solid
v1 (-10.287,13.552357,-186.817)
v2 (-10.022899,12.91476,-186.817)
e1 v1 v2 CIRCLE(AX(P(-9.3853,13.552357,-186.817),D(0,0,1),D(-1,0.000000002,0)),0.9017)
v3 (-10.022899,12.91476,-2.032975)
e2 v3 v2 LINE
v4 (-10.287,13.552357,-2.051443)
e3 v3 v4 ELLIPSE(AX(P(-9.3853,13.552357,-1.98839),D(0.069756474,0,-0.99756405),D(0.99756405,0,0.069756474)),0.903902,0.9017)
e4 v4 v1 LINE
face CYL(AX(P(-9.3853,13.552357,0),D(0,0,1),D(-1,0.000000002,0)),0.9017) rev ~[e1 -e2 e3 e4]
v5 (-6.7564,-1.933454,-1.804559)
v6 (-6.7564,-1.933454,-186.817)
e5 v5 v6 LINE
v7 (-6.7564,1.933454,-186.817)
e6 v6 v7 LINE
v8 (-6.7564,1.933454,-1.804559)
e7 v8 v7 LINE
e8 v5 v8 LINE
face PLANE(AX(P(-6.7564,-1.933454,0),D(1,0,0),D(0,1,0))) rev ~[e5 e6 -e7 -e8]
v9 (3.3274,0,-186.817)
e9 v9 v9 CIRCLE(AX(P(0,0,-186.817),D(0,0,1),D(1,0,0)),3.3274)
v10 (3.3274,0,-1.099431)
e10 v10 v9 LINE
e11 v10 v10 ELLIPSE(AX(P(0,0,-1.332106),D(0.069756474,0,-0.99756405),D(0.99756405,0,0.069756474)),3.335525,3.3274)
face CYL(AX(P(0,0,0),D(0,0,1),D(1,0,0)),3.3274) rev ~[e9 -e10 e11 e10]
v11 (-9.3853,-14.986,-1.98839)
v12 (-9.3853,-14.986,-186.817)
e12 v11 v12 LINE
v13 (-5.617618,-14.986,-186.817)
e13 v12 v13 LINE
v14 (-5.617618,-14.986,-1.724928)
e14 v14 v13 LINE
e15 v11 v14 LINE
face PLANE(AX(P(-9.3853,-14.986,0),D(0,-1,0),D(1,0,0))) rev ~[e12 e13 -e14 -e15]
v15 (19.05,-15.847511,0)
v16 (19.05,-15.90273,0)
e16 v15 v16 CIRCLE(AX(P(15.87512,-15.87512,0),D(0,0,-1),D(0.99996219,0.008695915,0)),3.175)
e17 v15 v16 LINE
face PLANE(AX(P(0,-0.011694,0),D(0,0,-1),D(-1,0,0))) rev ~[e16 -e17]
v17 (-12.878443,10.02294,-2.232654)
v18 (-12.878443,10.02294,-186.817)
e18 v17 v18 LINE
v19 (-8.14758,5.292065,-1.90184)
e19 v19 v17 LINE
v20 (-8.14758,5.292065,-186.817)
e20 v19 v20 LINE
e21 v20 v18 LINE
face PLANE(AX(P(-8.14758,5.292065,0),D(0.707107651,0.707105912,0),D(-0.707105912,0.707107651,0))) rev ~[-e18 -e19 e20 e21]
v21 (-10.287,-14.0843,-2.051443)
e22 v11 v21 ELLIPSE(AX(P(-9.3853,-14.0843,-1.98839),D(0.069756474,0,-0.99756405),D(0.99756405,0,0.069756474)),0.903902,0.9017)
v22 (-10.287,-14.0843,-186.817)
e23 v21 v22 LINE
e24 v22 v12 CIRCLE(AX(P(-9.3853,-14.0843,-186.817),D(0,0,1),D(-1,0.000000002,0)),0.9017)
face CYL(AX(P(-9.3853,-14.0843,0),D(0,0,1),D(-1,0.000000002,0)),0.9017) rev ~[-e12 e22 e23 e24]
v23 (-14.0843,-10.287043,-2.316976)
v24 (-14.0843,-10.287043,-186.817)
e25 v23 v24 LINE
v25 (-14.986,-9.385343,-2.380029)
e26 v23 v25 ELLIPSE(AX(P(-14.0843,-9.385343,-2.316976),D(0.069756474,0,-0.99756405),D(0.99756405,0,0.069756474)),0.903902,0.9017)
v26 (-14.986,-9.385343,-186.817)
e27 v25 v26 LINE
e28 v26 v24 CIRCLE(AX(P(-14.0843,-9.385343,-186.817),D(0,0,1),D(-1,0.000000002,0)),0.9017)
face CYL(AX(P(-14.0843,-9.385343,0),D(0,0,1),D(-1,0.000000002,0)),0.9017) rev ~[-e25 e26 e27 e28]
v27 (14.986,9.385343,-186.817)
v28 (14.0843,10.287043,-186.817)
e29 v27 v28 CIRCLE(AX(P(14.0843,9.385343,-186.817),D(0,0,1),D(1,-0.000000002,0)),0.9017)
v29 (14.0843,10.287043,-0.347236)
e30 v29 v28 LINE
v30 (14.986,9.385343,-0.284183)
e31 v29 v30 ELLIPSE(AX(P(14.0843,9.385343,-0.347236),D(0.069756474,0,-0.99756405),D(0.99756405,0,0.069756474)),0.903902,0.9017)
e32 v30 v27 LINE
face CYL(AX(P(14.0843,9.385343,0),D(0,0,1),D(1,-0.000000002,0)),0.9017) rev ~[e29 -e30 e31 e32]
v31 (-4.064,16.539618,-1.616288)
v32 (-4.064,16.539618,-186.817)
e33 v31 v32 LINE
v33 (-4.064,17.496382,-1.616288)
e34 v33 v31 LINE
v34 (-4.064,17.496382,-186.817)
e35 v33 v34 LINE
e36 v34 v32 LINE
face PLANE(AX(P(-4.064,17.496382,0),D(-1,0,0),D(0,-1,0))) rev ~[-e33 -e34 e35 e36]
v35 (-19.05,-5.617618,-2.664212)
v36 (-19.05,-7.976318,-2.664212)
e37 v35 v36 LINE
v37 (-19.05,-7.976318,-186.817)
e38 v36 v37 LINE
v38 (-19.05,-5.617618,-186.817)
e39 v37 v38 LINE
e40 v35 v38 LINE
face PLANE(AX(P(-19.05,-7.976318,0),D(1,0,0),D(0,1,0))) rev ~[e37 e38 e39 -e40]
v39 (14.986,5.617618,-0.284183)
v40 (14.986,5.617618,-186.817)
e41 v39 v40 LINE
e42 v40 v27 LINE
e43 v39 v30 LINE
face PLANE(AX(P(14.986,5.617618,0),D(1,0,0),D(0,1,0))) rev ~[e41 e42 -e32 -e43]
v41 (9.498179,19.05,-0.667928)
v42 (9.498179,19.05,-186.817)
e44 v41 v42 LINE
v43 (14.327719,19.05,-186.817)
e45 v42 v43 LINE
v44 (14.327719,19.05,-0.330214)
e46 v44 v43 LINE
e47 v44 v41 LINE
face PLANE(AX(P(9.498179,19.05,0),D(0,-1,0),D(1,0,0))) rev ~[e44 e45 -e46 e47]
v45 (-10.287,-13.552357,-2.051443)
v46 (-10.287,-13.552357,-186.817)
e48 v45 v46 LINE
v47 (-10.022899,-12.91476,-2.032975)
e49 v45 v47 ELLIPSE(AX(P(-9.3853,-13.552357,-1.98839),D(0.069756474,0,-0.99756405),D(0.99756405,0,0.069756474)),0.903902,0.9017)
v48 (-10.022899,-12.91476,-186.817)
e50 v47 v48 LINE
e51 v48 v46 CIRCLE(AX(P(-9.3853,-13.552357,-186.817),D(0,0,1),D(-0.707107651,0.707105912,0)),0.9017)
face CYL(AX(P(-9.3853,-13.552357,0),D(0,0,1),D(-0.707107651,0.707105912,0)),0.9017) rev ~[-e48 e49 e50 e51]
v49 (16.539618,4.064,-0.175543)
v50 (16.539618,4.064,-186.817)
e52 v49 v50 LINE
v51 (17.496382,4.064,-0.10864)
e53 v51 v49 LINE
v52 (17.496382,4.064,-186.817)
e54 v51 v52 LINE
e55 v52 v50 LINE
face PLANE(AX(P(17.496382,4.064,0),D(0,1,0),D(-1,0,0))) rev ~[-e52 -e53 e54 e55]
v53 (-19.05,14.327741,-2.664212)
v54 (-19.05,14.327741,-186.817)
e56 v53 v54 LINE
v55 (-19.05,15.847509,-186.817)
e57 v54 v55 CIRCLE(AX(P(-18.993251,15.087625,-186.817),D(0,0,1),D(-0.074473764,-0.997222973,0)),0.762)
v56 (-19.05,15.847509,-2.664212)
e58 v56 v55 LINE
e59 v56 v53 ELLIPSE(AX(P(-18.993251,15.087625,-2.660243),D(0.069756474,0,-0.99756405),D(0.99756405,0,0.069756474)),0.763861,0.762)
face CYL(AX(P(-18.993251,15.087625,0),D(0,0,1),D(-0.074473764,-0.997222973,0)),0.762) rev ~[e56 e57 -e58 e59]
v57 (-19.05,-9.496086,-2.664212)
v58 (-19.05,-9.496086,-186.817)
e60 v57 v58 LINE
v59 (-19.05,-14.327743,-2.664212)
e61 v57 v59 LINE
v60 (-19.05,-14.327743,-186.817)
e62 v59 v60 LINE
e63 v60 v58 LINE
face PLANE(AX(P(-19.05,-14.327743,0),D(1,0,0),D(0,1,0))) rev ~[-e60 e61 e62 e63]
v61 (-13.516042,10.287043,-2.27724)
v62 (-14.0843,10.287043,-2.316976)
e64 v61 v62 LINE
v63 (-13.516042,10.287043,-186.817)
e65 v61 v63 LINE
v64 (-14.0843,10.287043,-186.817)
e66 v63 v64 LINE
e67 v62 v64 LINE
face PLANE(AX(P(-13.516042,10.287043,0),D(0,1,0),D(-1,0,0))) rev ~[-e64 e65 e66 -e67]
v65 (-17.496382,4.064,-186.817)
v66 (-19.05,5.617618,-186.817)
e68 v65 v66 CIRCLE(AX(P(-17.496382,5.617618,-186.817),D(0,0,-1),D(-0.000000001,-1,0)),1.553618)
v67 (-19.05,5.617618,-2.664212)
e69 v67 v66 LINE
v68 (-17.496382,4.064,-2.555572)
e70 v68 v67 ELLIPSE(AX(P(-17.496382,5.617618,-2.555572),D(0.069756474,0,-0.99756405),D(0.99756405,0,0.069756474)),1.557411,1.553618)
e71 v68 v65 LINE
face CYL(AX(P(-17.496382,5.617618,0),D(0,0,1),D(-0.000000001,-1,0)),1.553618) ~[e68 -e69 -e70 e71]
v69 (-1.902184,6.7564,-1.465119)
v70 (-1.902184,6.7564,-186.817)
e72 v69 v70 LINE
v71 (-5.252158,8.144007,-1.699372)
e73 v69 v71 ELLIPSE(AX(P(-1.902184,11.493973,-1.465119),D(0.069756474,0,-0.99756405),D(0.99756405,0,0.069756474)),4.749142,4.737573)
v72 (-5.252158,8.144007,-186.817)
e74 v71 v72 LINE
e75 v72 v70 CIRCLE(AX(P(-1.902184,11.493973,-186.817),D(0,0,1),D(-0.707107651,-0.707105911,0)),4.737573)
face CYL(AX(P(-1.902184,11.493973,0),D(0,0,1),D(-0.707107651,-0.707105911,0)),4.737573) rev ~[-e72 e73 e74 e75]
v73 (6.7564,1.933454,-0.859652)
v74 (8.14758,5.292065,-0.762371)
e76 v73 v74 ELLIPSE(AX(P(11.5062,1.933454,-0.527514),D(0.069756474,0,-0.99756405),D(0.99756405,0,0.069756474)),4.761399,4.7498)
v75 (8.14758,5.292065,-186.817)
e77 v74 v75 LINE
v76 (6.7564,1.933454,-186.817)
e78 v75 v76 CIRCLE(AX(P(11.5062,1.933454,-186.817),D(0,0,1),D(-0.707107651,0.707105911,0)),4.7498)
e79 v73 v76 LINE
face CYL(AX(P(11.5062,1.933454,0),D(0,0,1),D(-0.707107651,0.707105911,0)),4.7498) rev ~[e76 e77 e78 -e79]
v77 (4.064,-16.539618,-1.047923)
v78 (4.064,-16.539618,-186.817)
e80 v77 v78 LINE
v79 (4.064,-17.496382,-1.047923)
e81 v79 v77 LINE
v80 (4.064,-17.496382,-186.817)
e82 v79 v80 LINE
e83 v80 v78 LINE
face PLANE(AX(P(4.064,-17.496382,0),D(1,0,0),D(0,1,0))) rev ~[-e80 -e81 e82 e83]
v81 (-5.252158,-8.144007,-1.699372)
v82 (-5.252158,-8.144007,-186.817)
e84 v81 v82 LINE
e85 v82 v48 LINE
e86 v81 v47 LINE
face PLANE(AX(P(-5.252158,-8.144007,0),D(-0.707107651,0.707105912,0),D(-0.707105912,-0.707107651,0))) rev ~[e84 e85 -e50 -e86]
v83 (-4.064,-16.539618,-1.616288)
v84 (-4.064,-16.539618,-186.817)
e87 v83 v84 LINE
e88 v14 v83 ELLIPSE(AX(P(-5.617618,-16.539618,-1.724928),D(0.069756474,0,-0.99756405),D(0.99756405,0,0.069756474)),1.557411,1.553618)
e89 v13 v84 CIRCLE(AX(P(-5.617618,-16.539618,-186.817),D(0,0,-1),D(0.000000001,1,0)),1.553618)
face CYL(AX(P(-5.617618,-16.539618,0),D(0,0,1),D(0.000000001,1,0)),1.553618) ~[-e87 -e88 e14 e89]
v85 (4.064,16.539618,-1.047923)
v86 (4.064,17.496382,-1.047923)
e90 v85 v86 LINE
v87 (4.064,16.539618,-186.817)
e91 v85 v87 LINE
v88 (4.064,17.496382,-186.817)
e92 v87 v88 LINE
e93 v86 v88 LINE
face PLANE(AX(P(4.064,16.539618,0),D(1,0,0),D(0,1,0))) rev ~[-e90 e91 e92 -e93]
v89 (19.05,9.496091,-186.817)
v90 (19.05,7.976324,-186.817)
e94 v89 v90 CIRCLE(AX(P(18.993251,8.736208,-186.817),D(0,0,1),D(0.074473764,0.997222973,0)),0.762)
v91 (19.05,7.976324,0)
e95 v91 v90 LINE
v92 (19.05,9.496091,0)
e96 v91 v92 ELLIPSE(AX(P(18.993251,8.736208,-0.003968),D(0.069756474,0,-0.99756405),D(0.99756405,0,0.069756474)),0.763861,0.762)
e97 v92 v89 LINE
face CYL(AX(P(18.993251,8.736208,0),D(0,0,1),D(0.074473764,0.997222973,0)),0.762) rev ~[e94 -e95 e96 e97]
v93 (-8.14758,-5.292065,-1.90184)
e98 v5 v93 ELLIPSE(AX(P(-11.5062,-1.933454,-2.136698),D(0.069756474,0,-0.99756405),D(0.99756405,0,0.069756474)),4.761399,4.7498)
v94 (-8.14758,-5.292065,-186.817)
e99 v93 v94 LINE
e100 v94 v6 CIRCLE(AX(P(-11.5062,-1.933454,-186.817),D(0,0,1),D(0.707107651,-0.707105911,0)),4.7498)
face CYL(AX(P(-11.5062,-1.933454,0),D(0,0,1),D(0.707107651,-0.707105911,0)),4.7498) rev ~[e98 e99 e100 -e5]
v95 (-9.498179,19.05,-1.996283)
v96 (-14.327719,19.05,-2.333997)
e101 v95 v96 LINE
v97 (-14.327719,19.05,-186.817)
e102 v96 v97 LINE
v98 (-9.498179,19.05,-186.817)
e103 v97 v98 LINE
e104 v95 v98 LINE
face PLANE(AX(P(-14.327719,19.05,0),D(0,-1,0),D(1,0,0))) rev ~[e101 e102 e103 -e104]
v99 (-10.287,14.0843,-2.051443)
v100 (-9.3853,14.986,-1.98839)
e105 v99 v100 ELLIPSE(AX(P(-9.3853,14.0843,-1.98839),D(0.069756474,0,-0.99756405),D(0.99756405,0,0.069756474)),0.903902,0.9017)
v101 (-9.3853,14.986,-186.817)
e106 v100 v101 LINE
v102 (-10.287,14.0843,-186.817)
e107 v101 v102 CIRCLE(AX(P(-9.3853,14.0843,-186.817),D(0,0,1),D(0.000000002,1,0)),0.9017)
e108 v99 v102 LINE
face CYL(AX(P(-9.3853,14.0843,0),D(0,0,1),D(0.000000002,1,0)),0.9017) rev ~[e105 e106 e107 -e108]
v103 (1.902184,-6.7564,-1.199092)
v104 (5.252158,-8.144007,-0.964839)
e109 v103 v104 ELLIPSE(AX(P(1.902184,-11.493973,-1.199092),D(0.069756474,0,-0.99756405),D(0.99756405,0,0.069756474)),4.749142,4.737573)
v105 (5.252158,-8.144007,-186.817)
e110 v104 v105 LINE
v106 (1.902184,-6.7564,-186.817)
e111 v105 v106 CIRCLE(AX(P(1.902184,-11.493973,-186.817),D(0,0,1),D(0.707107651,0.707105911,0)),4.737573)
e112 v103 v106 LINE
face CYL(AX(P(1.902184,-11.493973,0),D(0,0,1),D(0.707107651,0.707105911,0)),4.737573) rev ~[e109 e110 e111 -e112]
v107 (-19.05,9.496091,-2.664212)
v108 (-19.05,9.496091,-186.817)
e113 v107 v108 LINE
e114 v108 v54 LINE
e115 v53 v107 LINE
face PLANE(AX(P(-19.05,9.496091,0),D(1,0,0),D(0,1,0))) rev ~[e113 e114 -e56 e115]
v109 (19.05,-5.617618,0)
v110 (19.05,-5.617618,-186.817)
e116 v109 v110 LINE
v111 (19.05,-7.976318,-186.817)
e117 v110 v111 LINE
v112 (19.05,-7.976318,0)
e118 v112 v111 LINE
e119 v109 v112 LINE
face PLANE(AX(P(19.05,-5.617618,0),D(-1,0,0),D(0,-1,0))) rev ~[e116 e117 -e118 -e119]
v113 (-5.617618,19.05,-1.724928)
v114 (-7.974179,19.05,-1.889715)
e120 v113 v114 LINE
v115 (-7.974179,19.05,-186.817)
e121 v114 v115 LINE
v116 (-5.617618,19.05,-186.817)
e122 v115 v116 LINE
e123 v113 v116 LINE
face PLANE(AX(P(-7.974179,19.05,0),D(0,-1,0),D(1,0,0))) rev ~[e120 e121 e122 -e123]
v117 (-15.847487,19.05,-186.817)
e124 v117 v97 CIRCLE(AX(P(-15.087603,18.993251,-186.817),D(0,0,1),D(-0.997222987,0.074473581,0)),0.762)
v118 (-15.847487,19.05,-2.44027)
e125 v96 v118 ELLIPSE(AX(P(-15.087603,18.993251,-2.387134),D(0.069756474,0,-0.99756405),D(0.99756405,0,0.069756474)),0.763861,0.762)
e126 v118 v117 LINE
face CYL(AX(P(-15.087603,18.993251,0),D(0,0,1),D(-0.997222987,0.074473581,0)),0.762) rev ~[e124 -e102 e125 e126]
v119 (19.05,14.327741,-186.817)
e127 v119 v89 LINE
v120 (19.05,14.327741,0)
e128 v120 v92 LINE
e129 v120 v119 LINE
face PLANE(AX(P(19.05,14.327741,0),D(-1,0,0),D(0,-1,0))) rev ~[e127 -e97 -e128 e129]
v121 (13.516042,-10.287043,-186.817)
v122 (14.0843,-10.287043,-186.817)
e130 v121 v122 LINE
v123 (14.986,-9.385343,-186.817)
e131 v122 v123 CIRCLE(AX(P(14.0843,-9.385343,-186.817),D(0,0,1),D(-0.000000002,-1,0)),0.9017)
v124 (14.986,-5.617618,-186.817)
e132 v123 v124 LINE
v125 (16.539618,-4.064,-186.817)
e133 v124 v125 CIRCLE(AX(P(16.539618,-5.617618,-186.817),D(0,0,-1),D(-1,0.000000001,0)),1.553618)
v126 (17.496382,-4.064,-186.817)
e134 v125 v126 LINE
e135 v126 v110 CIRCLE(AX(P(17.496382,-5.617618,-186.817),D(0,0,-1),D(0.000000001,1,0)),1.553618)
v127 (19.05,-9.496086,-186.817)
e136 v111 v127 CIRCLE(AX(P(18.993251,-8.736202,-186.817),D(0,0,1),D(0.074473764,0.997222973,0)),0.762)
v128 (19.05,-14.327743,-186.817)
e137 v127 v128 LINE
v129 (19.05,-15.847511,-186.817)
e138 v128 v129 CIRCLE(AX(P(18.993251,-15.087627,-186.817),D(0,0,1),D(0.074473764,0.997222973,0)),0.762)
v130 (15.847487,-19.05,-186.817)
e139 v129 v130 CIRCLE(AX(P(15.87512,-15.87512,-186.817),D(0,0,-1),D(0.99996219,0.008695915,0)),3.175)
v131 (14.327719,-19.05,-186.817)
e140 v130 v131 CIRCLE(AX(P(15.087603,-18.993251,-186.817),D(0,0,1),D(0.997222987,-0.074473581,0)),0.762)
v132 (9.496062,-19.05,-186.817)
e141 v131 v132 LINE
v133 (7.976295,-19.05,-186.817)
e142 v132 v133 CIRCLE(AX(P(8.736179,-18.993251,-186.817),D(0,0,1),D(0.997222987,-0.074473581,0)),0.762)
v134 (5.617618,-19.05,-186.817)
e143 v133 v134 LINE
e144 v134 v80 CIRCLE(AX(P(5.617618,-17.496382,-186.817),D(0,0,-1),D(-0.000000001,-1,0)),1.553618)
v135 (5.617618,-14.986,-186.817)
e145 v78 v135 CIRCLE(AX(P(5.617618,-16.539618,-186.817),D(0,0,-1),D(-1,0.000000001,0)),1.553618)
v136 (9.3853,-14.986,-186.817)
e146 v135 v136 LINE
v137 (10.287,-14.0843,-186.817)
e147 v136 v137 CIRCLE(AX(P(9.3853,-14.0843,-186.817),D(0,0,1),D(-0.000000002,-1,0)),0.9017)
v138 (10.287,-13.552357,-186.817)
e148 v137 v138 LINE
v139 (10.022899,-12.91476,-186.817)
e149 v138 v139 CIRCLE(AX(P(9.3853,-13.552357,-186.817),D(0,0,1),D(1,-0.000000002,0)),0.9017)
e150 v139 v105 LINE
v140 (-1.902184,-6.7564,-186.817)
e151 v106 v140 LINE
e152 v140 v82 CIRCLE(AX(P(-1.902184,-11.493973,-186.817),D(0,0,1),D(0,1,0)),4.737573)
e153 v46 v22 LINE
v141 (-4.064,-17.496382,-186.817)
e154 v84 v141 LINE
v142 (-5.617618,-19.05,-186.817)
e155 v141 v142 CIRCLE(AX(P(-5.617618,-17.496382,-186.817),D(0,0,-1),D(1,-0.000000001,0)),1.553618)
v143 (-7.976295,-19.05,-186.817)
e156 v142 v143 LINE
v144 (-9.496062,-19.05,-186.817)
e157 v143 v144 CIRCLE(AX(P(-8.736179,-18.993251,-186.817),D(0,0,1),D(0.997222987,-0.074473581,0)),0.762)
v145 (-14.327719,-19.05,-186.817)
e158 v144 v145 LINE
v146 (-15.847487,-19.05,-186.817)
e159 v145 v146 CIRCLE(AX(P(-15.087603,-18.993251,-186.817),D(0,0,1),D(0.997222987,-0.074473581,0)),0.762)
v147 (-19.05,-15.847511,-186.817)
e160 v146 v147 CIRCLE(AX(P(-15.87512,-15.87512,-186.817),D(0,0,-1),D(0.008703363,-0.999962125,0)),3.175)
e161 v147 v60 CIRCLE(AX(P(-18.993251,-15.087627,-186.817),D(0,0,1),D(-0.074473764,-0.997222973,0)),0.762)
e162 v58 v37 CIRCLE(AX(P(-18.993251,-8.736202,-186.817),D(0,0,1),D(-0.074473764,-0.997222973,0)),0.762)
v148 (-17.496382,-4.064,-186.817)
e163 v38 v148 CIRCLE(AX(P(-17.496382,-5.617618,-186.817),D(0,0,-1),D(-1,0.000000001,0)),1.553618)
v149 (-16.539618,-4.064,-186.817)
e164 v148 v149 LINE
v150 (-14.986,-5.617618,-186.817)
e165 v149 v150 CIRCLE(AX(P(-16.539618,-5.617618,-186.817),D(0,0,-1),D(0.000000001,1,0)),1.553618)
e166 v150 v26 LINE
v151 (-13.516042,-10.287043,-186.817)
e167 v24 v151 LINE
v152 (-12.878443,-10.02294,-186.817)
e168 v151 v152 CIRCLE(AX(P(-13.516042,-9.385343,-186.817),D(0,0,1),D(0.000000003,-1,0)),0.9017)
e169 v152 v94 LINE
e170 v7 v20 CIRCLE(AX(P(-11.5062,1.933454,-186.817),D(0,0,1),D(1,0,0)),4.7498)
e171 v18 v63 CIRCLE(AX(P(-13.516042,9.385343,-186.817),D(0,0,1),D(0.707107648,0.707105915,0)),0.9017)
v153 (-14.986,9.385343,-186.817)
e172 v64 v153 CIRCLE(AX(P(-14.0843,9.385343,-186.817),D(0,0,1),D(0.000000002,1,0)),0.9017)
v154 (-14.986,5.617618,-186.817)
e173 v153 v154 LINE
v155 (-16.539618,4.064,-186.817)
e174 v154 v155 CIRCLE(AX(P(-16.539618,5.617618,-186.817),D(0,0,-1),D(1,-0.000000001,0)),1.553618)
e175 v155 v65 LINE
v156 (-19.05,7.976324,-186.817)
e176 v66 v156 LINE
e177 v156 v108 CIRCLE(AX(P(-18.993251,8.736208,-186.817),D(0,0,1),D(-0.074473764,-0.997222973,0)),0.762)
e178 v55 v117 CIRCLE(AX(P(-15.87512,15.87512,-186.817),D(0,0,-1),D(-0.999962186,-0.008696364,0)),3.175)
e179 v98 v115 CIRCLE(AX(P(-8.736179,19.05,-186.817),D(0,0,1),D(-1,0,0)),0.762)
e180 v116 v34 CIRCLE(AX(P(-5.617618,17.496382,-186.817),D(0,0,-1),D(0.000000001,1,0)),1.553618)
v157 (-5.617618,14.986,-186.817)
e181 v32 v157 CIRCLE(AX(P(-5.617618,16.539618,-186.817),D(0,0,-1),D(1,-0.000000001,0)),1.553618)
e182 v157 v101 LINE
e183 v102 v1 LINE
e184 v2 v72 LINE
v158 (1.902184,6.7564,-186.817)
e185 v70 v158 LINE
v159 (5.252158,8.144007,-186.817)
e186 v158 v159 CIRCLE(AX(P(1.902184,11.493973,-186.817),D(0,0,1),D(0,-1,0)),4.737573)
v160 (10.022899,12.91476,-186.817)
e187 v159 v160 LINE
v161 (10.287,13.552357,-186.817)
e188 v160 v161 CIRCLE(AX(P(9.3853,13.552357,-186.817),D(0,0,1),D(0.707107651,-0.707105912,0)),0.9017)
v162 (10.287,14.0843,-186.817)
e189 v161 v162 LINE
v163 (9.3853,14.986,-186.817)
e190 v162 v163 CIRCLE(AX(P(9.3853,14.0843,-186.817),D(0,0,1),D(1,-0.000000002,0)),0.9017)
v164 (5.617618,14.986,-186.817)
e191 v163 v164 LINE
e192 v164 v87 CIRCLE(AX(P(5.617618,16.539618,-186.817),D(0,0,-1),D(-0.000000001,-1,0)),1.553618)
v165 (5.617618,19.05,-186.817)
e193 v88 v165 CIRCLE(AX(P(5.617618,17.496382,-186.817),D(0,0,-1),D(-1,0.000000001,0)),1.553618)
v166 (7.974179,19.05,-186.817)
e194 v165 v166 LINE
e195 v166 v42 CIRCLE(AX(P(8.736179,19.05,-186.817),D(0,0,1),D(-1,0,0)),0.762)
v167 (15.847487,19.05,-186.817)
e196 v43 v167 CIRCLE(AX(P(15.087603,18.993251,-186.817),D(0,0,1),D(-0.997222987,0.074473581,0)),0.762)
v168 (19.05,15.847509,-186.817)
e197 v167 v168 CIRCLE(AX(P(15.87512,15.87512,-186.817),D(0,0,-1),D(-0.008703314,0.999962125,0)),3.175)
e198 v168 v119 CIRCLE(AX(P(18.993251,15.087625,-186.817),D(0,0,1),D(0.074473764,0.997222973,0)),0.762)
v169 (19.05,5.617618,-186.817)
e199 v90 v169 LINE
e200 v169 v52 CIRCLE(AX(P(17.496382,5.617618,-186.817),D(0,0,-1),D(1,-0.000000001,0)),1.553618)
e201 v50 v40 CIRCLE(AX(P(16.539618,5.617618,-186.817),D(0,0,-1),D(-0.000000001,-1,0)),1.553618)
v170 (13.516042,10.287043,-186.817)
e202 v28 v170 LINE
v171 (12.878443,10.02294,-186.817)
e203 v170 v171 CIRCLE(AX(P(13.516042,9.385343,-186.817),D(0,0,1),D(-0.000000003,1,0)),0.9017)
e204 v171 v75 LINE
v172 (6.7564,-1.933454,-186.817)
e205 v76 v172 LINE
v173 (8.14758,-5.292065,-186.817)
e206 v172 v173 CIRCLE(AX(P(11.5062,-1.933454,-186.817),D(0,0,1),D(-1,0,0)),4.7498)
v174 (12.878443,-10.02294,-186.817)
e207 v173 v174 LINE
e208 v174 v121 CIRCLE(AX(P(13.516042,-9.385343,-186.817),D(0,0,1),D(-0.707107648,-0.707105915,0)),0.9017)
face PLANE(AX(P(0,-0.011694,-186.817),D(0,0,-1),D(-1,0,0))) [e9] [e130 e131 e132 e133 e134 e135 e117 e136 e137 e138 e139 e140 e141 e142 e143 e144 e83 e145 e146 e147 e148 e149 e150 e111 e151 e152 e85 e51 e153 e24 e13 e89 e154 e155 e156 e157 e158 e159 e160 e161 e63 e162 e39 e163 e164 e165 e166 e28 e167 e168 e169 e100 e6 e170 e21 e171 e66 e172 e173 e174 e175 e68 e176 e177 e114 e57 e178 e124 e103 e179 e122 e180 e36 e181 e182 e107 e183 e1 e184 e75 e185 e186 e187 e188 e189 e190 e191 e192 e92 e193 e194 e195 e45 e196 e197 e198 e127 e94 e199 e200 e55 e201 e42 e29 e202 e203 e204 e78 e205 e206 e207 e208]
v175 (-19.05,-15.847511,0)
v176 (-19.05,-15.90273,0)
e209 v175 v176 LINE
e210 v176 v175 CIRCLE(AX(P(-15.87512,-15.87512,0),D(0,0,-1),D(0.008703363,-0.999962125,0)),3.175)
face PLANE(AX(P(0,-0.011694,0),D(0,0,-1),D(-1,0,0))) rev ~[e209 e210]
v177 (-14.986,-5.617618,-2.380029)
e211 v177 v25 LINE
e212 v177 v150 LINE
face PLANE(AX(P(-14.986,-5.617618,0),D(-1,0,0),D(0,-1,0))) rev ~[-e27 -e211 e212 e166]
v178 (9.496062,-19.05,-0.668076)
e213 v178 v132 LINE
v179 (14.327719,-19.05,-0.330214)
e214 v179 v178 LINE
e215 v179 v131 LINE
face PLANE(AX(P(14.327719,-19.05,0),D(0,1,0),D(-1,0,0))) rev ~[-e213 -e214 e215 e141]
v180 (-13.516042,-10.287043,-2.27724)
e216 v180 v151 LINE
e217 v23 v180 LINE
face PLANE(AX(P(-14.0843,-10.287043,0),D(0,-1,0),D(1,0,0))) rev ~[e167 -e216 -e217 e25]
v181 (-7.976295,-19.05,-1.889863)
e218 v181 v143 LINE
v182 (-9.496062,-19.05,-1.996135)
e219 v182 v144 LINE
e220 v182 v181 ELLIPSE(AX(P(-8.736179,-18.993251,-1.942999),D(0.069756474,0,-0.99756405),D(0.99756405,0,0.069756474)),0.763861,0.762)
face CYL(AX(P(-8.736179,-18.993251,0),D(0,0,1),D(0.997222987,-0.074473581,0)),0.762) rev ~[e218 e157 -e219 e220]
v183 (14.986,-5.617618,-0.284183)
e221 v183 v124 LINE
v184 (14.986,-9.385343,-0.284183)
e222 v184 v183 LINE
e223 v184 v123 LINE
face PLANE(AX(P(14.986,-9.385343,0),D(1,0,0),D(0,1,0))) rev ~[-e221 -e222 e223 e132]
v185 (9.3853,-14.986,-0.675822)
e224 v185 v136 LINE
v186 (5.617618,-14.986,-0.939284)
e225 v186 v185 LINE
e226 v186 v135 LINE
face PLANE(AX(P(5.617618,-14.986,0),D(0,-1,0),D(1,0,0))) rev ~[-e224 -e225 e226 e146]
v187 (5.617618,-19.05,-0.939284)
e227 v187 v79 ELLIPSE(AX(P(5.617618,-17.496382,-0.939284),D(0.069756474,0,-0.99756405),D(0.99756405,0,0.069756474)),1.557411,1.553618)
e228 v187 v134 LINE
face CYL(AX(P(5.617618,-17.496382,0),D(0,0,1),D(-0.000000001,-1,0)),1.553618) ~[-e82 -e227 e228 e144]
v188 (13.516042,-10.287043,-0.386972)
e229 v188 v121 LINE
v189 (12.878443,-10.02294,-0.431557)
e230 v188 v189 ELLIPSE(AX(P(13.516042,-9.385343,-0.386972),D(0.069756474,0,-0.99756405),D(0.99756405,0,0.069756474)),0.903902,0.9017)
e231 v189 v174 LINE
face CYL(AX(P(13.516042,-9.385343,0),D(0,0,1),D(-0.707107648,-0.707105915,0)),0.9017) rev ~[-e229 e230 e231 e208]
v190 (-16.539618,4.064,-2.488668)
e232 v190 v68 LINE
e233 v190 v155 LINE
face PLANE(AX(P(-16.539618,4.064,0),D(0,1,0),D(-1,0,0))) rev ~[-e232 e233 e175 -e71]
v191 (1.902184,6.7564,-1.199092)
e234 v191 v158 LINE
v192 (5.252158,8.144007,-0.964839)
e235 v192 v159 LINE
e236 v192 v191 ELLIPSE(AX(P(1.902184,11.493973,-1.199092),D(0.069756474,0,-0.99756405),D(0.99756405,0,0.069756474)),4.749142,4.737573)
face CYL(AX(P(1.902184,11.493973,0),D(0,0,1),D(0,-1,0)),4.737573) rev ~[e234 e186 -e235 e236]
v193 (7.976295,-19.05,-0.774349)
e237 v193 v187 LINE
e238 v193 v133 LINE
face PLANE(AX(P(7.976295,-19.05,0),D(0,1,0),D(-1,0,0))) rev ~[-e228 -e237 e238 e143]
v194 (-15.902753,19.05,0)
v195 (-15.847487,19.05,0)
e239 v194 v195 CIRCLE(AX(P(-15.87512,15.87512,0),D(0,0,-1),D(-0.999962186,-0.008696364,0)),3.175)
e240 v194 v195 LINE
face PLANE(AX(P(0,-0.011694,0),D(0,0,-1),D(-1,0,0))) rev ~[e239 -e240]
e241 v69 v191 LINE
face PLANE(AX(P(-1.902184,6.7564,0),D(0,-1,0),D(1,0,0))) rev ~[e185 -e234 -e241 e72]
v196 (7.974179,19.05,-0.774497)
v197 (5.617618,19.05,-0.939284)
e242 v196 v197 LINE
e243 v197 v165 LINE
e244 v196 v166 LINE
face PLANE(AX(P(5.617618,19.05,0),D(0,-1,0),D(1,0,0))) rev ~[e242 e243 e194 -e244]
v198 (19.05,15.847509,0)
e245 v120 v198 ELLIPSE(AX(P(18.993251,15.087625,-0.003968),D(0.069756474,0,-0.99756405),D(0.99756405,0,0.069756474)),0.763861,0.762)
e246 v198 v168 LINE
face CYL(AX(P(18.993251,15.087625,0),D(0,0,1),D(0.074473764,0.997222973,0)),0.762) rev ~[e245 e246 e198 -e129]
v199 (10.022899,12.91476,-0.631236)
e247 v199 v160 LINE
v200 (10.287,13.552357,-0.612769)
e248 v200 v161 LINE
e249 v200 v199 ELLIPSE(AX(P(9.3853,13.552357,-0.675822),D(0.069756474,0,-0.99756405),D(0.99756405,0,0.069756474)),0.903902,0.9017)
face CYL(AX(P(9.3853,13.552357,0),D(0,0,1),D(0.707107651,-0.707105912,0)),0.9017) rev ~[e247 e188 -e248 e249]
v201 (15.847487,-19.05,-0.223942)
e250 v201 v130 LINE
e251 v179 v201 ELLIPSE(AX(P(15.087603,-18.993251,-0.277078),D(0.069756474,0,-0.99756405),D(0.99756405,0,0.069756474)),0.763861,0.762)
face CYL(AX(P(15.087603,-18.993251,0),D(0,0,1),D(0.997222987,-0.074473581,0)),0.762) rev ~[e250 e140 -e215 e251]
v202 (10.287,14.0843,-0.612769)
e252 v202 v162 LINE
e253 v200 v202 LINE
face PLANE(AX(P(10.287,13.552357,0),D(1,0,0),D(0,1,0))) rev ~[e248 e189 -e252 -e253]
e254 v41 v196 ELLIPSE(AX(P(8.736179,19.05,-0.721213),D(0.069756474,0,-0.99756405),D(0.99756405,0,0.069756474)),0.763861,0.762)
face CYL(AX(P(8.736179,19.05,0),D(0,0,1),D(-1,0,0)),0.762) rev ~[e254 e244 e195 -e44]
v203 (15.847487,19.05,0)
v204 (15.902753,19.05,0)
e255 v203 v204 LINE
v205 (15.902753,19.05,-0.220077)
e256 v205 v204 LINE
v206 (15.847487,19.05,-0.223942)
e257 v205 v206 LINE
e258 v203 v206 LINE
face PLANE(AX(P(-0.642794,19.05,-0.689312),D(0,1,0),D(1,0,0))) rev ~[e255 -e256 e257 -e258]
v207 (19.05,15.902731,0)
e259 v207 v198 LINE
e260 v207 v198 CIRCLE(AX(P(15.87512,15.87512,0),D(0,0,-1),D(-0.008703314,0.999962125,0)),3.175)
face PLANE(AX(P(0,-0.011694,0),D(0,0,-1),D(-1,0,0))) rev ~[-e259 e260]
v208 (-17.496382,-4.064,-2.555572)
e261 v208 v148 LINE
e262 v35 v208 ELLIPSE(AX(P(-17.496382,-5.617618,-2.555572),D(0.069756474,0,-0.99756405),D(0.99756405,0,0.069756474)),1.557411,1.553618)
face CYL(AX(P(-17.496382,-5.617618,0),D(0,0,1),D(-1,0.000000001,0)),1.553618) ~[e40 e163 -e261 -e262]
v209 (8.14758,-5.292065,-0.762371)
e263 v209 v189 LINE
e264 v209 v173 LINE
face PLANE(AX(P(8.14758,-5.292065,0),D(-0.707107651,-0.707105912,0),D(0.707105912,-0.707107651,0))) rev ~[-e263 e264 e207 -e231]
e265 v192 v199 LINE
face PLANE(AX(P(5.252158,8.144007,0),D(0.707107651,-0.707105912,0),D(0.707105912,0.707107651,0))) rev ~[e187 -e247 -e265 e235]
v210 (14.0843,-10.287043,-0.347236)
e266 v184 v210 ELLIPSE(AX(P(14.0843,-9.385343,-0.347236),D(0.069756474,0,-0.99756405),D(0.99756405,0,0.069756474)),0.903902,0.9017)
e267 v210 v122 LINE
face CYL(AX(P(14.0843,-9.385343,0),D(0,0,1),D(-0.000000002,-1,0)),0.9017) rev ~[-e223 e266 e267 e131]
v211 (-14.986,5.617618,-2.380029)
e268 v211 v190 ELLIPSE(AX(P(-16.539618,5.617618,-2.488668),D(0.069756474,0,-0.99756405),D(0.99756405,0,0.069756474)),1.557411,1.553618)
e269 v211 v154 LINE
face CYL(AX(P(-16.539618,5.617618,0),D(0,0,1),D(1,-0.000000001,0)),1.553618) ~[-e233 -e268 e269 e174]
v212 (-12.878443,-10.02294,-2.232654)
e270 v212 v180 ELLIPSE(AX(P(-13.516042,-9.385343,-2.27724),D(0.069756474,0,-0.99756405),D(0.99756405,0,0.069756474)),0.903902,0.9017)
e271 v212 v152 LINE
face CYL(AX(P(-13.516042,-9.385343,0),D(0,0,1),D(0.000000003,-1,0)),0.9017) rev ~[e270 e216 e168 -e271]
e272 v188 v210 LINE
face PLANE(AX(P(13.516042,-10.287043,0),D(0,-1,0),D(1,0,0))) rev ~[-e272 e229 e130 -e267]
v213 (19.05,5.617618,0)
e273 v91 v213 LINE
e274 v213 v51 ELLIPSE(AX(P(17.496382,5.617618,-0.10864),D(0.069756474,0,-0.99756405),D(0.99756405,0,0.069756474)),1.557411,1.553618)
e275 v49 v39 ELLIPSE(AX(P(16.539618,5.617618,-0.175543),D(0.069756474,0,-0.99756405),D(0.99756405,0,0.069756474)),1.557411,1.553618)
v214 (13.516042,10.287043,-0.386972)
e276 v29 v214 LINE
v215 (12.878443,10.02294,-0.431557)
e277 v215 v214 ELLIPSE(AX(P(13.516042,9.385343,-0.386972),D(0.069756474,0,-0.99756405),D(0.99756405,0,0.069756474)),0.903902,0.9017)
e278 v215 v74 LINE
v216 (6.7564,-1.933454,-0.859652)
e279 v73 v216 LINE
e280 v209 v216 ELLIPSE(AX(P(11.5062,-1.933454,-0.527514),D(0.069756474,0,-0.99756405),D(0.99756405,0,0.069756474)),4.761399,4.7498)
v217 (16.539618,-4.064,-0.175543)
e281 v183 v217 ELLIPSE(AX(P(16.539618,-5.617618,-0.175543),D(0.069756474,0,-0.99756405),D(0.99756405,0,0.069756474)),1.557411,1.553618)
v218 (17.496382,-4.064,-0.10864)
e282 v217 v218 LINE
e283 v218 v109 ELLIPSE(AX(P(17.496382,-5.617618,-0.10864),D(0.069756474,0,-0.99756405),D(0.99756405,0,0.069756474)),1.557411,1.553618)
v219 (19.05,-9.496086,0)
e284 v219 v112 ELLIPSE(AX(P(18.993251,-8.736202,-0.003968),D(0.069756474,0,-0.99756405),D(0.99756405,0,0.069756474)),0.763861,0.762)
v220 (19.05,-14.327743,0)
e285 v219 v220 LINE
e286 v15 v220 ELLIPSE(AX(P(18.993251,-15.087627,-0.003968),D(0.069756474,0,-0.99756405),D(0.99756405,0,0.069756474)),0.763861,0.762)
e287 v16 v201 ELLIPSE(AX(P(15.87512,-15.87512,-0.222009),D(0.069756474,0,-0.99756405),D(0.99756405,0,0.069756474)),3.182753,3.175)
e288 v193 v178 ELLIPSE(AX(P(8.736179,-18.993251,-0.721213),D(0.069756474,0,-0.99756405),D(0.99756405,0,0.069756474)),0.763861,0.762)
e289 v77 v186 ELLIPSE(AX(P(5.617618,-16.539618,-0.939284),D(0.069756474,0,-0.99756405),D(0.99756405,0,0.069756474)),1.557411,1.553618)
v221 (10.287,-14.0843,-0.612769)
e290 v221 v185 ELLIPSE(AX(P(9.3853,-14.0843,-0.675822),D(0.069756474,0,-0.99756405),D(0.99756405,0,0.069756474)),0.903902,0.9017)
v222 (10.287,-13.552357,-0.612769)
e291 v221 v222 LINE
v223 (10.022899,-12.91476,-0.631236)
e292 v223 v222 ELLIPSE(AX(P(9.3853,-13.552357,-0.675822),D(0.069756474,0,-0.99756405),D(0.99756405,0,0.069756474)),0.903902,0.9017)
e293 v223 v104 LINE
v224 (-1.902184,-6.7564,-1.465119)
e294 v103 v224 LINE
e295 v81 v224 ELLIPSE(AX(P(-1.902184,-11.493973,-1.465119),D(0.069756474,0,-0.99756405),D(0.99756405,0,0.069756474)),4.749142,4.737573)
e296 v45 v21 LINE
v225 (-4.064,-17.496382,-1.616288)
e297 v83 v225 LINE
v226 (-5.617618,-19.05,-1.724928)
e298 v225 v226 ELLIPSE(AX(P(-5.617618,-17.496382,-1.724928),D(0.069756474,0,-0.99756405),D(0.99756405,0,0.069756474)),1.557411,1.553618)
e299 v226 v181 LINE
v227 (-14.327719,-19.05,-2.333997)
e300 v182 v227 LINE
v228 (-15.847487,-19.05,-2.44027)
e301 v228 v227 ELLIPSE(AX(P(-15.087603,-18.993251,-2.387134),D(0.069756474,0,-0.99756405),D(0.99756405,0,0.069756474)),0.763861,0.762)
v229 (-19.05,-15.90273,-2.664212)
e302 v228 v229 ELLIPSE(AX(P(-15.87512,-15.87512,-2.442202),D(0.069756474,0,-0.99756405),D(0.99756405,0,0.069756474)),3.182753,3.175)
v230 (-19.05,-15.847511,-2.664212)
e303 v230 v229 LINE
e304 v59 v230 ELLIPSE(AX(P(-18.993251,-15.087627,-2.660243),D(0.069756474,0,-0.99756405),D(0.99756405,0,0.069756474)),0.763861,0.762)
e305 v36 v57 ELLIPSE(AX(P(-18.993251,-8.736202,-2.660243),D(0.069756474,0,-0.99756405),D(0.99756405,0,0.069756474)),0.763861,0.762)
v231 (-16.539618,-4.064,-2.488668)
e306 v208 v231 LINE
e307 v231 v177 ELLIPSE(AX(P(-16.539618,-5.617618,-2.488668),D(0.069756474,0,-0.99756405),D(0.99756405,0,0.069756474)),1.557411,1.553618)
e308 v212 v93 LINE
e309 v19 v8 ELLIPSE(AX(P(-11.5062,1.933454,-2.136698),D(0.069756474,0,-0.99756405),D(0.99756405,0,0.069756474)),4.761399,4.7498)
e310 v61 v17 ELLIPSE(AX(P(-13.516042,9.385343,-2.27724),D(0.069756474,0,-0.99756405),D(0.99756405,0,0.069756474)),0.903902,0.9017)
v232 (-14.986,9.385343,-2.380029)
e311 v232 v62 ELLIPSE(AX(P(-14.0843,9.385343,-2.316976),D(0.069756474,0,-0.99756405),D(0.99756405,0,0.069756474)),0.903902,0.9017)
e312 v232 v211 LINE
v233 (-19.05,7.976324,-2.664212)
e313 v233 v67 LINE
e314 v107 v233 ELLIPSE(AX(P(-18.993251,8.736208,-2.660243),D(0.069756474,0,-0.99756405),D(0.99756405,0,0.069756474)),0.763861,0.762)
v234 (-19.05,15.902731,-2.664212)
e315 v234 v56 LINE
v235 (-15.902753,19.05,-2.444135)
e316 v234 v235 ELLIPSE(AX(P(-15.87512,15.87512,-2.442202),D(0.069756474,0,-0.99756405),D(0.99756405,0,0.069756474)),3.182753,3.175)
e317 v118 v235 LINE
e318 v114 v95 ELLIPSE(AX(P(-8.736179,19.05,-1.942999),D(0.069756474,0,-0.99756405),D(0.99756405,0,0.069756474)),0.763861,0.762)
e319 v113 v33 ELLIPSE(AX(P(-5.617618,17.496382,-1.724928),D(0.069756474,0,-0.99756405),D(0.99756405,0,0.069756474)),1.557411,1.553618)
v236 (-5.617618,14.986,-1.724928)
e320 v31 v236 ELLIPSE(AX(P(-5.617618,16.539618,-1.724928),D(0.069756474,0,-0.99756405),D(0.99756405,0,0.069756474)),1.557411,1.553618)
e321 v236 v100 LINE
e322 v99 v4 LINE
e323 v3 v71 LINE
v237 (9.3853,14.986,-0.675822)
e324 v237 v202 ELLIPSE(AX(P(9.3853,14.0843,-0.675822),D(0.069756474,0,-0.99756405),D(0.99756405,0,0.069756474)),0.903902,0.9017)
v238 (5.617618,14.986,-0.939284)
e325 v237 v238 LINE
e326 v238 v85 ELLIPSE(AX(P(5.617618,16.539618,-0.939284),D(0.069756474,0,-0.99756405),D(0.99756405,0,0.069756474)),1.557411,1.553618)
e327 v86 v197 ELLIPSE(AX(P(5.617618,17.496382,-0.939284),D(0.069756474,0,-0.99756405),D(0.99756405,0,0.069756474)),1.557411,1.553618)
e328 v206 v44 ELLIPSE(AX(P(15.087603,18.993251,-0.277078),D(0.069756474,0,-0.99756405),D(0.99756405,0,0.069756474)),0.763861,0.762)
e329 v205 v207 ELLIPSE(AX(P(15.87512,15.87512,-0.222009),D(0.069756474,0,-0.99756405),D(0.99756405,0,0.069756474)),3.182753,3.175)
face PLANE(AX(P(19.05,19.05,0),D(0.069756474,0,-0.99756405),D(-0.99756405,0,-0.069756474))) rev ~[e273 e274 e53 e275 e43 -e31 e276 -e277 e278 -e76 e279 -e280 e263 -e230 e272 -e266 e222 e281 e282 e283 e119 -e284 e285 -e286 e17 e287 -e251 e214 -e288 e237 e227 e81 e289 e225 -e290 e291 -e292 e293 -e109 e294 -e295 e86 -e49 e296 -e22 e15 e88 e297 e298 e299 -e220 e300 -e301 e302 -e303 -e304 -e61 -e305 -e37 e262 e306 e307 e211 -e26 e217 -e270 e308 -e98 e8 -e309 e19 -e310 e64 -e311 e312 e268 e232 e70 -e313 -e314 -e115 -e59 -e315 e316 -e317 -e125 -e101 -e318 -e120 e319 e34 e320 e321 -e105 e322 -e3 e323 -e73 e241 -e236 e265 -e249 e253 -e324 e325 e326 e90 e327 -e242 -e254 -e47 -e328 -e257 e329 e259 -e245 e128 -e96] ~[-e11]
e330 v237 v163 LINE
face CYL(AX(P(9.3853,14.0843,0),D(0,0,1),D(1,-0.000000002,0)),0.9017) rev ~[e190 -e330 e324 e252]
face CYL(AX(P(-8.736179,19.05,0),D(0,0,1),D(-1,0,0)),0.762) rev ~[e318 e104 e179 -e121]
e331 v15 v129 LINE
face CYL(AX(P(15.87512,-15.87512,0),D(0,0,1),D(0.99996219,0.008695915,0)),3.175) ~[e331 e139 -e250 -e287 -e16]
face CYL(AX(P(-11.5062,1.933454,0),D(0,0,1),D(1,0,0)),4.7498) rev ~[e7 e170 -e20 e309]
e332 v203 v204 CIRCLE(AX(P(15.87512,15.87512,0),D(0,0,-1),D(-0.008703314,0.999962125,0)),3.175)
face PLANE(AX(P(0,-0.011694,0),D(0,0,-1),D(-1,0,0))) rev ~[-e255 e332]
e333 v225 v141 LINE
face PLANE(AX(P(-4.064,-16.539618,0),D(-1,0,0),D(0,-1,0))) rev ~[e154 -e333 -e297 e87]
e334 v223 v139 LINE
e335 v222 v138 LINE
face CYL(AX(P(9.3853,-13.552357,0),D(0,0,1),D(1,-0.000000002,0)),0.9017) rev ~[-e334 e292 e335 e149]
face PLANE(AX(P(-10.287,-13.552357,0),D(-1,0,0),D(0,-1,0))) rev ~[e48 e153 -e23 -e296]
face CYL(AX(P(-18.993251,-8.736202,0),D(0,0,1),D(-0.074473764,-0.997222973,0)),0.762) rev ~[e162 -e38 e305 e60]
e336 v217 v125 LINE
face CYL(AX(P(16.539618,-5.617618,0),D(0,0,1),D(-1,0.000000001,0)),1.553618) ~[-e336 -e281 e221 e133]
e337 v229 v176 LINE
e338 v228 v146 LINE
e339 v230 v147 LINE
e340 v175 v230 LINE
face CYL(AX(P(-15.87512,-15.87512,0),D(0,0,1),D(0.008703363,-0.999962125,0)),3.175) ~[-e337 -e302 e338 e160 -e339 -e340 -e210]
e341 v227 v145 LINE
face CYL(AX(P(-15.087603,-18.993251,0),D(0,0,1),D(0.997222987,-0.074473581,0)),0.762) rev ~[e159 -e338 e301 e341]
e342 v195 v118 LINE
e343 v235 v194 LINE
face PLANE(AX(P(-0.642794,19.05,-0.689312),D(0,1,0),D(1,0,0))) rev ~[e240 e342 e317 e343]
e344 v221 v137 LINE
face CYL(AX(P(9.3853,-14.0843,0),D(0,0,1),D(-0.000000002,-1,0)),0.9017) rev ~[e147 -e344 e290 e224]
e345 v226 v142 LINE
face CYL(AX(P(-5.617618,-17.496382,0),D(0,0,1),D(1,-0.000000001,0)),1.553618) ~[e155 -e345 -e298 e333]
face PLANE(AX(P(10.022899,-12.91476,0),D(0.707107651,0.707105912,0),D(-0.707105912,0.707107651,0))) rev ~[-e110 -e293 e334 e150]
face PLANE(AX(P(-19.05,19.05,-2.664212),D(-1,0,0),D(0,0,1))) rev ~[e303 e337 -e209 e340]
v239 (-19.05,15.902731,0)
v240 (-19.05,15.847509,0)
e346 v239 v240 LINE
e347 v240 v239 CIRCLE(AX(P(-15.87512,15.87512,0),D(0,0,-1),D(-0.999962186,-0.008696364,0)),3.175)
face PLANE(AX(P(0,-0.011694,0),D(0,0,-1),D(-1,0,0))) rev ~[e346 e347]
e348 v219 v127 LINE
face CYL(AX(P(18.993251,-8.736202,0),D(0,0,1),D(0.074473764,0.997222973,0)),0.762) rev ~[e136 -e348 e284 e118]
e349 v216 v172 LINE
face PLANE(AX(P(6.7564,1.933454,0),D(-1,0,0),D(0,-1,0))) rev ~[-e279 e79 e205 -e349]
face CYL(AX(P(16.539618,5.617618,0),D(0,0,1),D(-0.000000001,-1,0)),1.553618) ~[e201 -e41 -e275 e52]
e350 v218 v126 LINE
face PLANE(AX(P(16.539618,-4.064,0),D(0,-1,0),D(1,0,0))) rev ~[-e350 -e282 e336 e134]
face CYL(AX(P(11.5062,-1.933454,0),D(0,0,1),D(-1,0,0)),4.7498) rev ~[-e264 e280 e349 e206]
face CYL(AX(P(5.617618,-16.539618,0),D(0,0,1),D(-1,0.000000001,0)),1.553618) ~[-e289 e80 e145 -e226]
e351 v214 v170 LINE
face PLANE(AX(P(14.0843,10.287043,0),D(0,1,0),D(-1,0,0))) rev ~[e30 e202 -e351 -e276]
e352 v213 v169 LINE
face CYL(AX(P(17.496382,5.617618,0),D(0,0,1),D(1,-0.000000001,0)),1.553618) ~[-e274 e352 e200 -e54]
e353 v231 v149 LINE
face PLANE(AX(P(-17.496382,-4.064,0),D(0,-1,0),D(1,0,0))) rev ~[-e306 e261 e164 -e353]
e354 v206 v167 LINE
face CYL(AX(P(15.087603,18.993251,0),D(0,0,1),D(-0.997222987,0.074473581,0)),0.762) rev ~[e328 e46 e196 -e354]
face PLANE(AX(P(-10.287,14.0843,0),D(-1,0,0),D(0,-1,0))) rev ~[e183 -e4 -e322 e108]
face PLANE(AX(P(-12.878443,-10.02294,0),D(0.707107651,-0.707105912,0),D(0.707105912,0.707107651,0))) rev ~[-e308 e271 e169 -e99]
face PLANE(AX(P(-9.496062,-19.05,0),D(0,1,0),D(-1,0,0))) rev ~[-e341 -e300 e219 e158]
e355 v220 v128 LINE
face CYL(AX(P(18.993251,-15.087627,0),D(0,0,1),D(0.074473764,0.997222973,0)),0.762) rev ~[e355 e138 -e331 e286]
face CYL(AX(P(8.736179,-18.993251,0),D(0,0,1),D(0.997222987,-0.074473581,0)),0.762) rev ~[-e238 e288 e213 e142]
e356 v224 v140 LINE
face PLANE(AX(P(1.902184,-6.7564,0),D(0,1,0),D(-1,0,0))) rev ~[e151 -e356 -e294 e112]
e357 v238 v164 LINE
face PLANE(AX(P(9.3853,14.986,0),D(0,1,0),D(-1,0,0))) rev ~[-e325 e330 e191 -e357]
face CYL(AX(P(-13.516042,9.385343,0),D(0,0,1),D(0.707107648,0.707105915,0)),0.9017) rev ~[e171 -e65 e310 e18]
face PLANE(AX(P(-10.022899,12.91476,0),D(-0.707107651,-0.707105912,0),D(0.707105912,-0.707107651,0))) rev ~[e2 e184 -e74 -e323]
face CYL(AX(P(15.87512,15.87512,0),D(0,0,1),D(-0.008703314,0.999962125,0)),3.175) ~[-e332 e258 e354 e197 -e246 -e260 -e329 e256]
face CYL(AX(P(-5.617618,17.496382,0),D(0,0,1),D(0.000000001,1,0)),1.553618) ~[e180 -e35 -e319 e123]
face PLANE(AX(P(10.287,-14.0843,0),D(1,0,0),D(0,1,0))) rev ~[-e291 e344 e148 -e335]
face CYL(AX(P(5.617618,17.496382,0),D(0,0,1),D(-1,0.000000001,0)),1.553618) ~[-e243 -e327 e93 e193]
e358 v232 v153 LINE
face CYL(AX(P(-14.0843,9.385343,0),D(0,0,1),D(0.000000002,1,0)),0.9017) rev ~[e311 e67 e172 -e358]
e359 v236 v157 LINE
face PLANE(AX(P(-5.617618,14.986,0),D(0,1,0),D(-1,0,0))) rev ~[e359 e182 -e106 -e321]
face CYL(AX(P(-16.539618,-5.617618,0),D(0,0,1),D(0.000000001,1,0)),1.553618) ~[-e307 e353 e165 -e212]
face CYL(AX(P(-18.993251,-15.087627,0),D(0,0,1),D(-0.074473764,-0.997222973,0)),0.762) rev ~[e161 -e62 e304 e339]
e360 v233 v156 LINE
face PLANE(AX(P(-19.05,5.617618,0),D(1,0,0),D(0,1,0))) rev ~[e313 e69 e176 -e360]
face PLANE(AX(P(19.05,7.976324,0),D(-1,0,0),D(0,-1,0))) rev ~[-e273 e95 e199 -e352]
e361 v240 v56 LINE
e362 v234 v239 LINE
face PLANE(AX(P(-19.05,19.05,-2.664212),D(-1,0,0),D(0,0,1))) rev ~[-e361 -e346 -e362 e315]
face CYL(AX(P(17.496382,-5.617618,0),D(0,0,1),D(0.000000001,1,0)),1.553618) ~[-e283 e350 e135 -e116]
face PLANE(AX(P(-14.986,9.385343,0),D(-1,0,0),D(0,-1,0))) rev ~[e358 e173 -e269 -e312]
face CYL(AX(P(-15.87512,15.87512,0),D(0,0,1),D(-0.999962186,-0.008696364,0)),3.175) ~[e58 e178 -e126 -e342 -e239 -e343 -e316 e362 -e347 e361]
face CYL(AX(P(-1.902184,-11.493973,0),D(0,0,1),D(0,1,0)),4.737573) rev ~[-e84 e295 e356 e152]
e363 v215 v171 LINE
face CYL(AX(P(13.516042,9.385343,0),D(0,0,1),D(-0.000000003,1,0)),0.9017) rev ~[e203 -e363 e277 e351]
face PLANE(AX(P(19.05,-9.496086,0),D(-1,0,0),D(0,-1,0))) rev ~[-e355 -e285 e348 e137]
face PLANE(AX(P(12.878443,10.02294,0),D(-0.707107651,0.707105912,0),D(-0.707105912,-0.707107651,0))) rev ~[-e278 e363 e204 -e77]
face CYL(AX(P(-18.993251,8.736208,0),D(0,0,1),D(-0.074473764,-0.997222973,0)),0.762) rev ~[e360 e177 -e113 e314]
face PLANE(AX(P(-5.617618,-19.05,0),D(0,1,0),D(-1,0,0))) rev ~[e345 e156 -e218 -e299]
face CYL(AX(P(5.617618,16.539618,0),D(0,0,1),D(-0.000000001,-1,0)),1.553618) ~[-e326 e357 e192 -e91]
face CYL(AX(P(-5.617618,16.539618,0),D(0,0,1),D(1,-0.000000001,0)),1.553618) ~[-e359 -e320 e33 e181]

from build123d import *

# Parameters (mm, degrees)
SKETCH1_R          = 3.3274
EXTRUDE1_DEPTH     = 186.817
CUT_EXTRUDE1_DEPTH = 192.611893489


with BuildPart() as part:
    # Sketch1 → Extrude1 (new body)
    with BuildSketch(Plane.XY):
        with BuildLine():
            Line((-10.022898969, 12.91475973), (-5.252158105, 8.144007132))
            ThreePointArc((-5.252158105, 8.144007132), (-3.715177372, 7.117027388), (-1.902183975, 6.7564))
            Line((-1.902183975, 6.7564), (1.902183975, 6.7564))
            ThreePointArc((1.902183975, 6.7564), (3.715177372, 7.117027388), (5.252158105, 8.144007132))
            Line((5.252158105, 8.144007132), (10.022898969, 12.91475973))
            ThreePointArc((10.022898969, 12.91475973), (10.218362387, 13.207291992), (10.287, 13.552357131))
            Line((10.287, 13.552357131), (10.287, 14.0843))
            ThreePointArc((10.287, 14.0843), (10.022898185, 14.721898185), (9.3853, 14.986))
            Line((9.3853, 14.986), (5.617617549, 14.986))
            ThreePointArc((5.617617549, 14.986), (4.519044045, 15.441044045), (4.064, 16.539617549))
            Line((4.064, 16.539617549), (4.064, 17.496382451))
            ThreePointArc((4.064, 17.496382451), (4.519044045, 18.594955955), (5.617617549, 19.05))
            Line((5.617617549, 19.05), (7.974178704, 19.05))
            ThreePointArc((7.974178704, 19.05), (8.736178704, 18.288), (9.498178704, 19.05))
            Line((9.498178704, 19.05), (14.327719207, 19.05))
            ThreePointArc((14.327719207, 19.05), (15.087603123, 18.231251131), (15.847487039, 19.05))
            ThreePointArc((15.847487039, 19.05), (18.120176289, 18.120192083), (19.05, 15.847509295))
            ThreePointArc((19.05, 15.847509295), (18.231250992, 15.08762539), (19.05, 14.327741484))
            Line((19.05, 14.327741484), (19.05, 9.496091471))
            ThreePointArc((19.05, 9.496091471), (18.231250992, 8.736207565), (19.05, 7.97632366))
            Line((19.05, 7.97632366), (19.05, 5.617617549))
            ThreePointArc((19.05, 5.617617549), (18.594955955, 4.519044045), (17.496382451, 4.064))
            Line((17.496382451, 4.064), (16.539617549, 4.064))
            ThreePointArc((16.539617549, 4.064), (15.441044045, 4.519044045), (14.986, 5.617617549))
            Line((14.986, 5.617617549), (14.986, 9.385342516))
            ThreePointArc((14.986, 9.385342516), (14.721898185, 10.022940701), (14.0843, 10.287042516))
            Line((14.0843, 10.287042516), (13.516042086, 10.287042516))
            ThreePointArc((13.516042086, 10.287042516), (13.170975923, 10.218404478), (12.878443117, 10.022939917))
            Line((12.878443117, 10.022939917), (8.14758008, 5.292065243))
            ThreePointArc((8.14758008, 5.292065243), (7.117955879, 3.751120653), (6.7564, 1.933453584))
            Line((6.7564, 1.933453584), (6.7564, -1.933453584))
            ThreePointArc((6.7564, -1.933453584), (7.117955879, -3.751120653), (8.14758008, -5.292065243))
            Line((8.14758008, -5.292065243), (12.878443117, -10.022939917))
            ThreePointArc((12.878443117, -10.022939917), (13.170975923, -10.218404478), (13.516042086, -10.287042516))
            Line((13.516042086, -10.287042516), (14.0843, -10.287042516))
            ThreePointArc((14.0843, -10.287042516), (14.721898185, -10.022940701), (14.986, -9.385342516))
            Line((14.986, -9.385342516), (14.986, -5.617617549))
            ThreePointArc((14.986, -5.617617549), (15.441044045, -4.519044045), (16.539617549, -4.064))
            Line((16.539617549, -4.064), (17.496382451, -4.064))
            ThreePointArc((17.496382451, -4.064), (18.594955955, -4.519044045), (19.05, -5.617617549))
            Line((19.05, -5.617617549), (19.05, -7.976318491))
            ThreePointArc((19.05, -7.976318491), (18.231250992, -8.736202396), (19.05, -9.496086302))
            Line((19.05, -9.496086302), (19.05, -14.32774291))
            ThreePointArc((19.05, -14.32774291), (18.231250992, -15.087626816), (19.05, -15.847510721))
            ThreePointArc((19.05, -15.847510721), (18.120175716, -18.120192644), (15.847486868, -19.05))
            ThreePointArc((15.847486868, -19.05), (15.087602952, -18.231251131), (14.327719036, -19.05))
            Line((14.327719036, -19.05), (9.496062448, -19.05))
            ThreePointArc((9.496062448, -19.05), (8.736178532, -18.231251131), (7.976294616, -19.05))
            Line((7.976294616, -19.05), (5.617617549, -19.05))
            ThreePointArc((5.617617549, -19.05), (4.519044045, -18.594955955), (4.064, -17.496382451))
            Line((4.064, -17.496382451), (4.064, -16.539617549))
            ThreePointArc((4.064, -16.539617549), (4.519044045, -15.441044045), (5.617617549, -14.986))
            Line((5.617617549, -14.986), (9.3853, -14.986))
            ThreePointArc((9.3853, -14.986), (10.022898185, -14.721898185), (10.287, -14.0843))
            Line((10.287, -14.0843), (10.287, -13.552357131))
            ThreePointArc((10.287, -13.552357131), (10.218362387, -13.207291992), (10.022898969, -12.91475973))
            Line((10.022898969, -12.91475973), (5.252158105, -8.144007132))
            ThreePointArc((5.252158105, -8.144007132), (3.715177372, -7.117027388), (1.902183975, -6.7564))
            Line((1.902183975, -6.7564), (-1.902183975, -6.7564))
            ThreePointArc((-1.902183975, -6.7564), (-3.715177372, -7.117027388), (-5.252158105, -8.144007132))
            Line((-5.252158105, -8.144007132), (-10.022898969, -12.91475973))
            ThreePointArc((-10.022898969, -12.91475973), (-10.218362387, -13.207291992), (-10.287, -13.552357131))
            Line((-10.287, -13.552357131), (-10.287, -14.0843))
            ThreePointArc((-10.287, -14.0843), (-10.022898185, -14.721898185), (-9.3853, -14.986))
            Line((-9.3853, -14.986), (-5.617617549, -14.986))
            ThreePointArc((-5.617617549, -14.986), (-4.519044045, -15.441044045), (-4.064, -16.539617549))
            Line((-4.064, -16.539617549), (-4.064, -17.496382451))
            ThreePointArc((-4.064, -17.496382451), (-4.519044045, -18.594955955), (-5.617617549, -19.05))
            Line((-5.617617549, -19.05), (-7.976294616, -19.05))
            ThreePointArc((-7.976294616, -19.05), (-8.736178532, -18.231251131), (-9.496062448, -19.05))
            Line((-9.496062448, -19.05), (-14.327719036, -19.05))
            ThreePointArc((-14.327719036, -19.05), (-15.087602952, -18.231251131), (-15.847486868, -19.05))
            ThreePointArc((-15.847486868, -19.05), (-18.120175716, -18.120192644), (-19.05, -15.847510721))
            ThreePointArc((-19.05, -15.847510721), (-18.231250992, -15.087626816), (-19.05, -14.32774291))
            Line((-19.05, -14.32774291), (-19.05, -9.496086302))
            ThreePointArc((-19.05, -9.496086302), (-18.231250992, -8.736202396), (-19.05, -7.976318491))
            Line((-19.05, -7.976318491), (-19.05, -5.617617549))
            ThreePointArc((-19.05, -5.617617549), (-18.594955955, -4.519044045), (-17.496382451, -4.064))
            Line((-17.496382451, -4.064), (-16.539617549, -4.064))
            ThreePointArc((-16.539617549, -4.064), (-15.441044045, -4.519044045), (-14.986, -5.617617549))
            Line((-14.986, -5.617617549), (-14.986, -9.385342516))
            ThreePointArc((-14.986, -9.385342516), (-14.721898185, -10.022940701), (-14.0843, -10.287042516))
            Line((-14.0843, -10.287042516), (-13.516042086, -10.287042516))
            ThreePointArc((-13.516042086, -10.287042516), (-13.170975923, -10.218404478), (-12.878443117, -10.022939917))
            Line((-12.878443117, -10.022939917), (-8.14758008, -5.292065243))
            ThreePointArc((-8.14758008, -5.292065243), (-7.117955879, -3.751120653), (-6.7564, -1.933453584))
            Line((-6.7564, -1.933453584), (-6.7564, 1.933453584))
            ThreePointArc((-6.7564, 1.933453584), (-7.117955879, 3.751120653), (-8.14758008, 5.292065243))
            Line((-8.14758008, 5.292065243), (-12.878443117, 10.022939917))
            ThreePointArc((-12.878443117, 10.022939917), (-13.170975923, 10.218404478), (-13.516042086, 10.287042516))
            Line((-13.516042086, 10.287042516), (-14.0843, 10.287042516))
            ThreePointArc((-14.0843, 10.287042516), (-14.721898185, 10.022940701), (-14.986, 9.385342516))
            Line((-14.986, 9.385342516), (-14.986, 5.617617549))
            ThreePointArc((-14.986, 5.617617549), (-15.441044045, 4.519044045), (-16.539617549, 4.064))
            Line((-16.539617549, 4.064), (-17.496382451, 4.064))
            ThreePointArc((-17.496382451, 4.064), (-18.594955955, 4.519044045), (-19.05, 5.617617549))
            Line((-19.05, 5.617617549), (-19.05, 7.97632366))
            ThreePointArc((-19.05, 7.97632366), (-18.231250992, 8.736207565), (-19.05, 9.496091471))
            Line((-19.05, 9.496091471), (-19.05, 14.327741484))
            ThreePointArc((-19.05, 14.327741484), (-18.231250992, 15.08762539), (-19.05, 15.847509295))
            ThreePointArc((-19.05, 15.847509295), (-18.120176289, 18.120192083), (-15.847487039, 19.05))
            ThreePointArc((-15.847487039, 19.05), (-15.087603123, 18.231251131), (-14.327719207, 19.05))
            Line((-14.327719207, 19.05), (-9.498178704, 19.05))
            ThreePointArc((-9.498178704, 19.05), (-8.736178704, 18.288), (-7.974178704, 19.05))
            Line((-7.974178704, 19.05), (-5.617617549, 19.05))
            ThreePointArc((-5.617617549, 19.05), (-4.519044045, 18.594955955), (-4.064, 17.496382451))
            Line((-4.064, 17.496382451), (-4.064, 16.539617549))
            ThreePointArc((-4.064, 16.539617549), (-4.519044045, 15.441044045), (-5.617617549, 14.986))
            Line((-5.617617549, 14.986), (-9.3853, 14.986))
            ThreePointArc((-9.3853, 14.986), (-10.022898185, 14.721898185), (-10.287, 14.0843))
            Line((-10.287, 14.0843), (-10.287, 13.552357131))
            ThreePointArc((-10.287, 13.552357131), (-10.218362387, 13.207291992), (-10.022898969, 12.91475973))
        make_face()
        Circle(SKETCH1_R, mode=Mode.SUBTRACT)
    extrude(amount=-EXTRUDE1_DEPTH)

    # Sketch2 → Cut-Extrude1 (cut, through all)
    with BuildSketch(Plane(origin=(0, 19.05, 0), x_dir=(1, 0, 0), z_dir=(0, 1, 0))):
        Polygon((19.05, 0), (-19.05, 2.664211535), (-19.05, 0), align=None)
    extrude(amount=-CUT_EXTRUDE1_DEPTH, mode=Mode.SUBTRACT)


solid = part.part
